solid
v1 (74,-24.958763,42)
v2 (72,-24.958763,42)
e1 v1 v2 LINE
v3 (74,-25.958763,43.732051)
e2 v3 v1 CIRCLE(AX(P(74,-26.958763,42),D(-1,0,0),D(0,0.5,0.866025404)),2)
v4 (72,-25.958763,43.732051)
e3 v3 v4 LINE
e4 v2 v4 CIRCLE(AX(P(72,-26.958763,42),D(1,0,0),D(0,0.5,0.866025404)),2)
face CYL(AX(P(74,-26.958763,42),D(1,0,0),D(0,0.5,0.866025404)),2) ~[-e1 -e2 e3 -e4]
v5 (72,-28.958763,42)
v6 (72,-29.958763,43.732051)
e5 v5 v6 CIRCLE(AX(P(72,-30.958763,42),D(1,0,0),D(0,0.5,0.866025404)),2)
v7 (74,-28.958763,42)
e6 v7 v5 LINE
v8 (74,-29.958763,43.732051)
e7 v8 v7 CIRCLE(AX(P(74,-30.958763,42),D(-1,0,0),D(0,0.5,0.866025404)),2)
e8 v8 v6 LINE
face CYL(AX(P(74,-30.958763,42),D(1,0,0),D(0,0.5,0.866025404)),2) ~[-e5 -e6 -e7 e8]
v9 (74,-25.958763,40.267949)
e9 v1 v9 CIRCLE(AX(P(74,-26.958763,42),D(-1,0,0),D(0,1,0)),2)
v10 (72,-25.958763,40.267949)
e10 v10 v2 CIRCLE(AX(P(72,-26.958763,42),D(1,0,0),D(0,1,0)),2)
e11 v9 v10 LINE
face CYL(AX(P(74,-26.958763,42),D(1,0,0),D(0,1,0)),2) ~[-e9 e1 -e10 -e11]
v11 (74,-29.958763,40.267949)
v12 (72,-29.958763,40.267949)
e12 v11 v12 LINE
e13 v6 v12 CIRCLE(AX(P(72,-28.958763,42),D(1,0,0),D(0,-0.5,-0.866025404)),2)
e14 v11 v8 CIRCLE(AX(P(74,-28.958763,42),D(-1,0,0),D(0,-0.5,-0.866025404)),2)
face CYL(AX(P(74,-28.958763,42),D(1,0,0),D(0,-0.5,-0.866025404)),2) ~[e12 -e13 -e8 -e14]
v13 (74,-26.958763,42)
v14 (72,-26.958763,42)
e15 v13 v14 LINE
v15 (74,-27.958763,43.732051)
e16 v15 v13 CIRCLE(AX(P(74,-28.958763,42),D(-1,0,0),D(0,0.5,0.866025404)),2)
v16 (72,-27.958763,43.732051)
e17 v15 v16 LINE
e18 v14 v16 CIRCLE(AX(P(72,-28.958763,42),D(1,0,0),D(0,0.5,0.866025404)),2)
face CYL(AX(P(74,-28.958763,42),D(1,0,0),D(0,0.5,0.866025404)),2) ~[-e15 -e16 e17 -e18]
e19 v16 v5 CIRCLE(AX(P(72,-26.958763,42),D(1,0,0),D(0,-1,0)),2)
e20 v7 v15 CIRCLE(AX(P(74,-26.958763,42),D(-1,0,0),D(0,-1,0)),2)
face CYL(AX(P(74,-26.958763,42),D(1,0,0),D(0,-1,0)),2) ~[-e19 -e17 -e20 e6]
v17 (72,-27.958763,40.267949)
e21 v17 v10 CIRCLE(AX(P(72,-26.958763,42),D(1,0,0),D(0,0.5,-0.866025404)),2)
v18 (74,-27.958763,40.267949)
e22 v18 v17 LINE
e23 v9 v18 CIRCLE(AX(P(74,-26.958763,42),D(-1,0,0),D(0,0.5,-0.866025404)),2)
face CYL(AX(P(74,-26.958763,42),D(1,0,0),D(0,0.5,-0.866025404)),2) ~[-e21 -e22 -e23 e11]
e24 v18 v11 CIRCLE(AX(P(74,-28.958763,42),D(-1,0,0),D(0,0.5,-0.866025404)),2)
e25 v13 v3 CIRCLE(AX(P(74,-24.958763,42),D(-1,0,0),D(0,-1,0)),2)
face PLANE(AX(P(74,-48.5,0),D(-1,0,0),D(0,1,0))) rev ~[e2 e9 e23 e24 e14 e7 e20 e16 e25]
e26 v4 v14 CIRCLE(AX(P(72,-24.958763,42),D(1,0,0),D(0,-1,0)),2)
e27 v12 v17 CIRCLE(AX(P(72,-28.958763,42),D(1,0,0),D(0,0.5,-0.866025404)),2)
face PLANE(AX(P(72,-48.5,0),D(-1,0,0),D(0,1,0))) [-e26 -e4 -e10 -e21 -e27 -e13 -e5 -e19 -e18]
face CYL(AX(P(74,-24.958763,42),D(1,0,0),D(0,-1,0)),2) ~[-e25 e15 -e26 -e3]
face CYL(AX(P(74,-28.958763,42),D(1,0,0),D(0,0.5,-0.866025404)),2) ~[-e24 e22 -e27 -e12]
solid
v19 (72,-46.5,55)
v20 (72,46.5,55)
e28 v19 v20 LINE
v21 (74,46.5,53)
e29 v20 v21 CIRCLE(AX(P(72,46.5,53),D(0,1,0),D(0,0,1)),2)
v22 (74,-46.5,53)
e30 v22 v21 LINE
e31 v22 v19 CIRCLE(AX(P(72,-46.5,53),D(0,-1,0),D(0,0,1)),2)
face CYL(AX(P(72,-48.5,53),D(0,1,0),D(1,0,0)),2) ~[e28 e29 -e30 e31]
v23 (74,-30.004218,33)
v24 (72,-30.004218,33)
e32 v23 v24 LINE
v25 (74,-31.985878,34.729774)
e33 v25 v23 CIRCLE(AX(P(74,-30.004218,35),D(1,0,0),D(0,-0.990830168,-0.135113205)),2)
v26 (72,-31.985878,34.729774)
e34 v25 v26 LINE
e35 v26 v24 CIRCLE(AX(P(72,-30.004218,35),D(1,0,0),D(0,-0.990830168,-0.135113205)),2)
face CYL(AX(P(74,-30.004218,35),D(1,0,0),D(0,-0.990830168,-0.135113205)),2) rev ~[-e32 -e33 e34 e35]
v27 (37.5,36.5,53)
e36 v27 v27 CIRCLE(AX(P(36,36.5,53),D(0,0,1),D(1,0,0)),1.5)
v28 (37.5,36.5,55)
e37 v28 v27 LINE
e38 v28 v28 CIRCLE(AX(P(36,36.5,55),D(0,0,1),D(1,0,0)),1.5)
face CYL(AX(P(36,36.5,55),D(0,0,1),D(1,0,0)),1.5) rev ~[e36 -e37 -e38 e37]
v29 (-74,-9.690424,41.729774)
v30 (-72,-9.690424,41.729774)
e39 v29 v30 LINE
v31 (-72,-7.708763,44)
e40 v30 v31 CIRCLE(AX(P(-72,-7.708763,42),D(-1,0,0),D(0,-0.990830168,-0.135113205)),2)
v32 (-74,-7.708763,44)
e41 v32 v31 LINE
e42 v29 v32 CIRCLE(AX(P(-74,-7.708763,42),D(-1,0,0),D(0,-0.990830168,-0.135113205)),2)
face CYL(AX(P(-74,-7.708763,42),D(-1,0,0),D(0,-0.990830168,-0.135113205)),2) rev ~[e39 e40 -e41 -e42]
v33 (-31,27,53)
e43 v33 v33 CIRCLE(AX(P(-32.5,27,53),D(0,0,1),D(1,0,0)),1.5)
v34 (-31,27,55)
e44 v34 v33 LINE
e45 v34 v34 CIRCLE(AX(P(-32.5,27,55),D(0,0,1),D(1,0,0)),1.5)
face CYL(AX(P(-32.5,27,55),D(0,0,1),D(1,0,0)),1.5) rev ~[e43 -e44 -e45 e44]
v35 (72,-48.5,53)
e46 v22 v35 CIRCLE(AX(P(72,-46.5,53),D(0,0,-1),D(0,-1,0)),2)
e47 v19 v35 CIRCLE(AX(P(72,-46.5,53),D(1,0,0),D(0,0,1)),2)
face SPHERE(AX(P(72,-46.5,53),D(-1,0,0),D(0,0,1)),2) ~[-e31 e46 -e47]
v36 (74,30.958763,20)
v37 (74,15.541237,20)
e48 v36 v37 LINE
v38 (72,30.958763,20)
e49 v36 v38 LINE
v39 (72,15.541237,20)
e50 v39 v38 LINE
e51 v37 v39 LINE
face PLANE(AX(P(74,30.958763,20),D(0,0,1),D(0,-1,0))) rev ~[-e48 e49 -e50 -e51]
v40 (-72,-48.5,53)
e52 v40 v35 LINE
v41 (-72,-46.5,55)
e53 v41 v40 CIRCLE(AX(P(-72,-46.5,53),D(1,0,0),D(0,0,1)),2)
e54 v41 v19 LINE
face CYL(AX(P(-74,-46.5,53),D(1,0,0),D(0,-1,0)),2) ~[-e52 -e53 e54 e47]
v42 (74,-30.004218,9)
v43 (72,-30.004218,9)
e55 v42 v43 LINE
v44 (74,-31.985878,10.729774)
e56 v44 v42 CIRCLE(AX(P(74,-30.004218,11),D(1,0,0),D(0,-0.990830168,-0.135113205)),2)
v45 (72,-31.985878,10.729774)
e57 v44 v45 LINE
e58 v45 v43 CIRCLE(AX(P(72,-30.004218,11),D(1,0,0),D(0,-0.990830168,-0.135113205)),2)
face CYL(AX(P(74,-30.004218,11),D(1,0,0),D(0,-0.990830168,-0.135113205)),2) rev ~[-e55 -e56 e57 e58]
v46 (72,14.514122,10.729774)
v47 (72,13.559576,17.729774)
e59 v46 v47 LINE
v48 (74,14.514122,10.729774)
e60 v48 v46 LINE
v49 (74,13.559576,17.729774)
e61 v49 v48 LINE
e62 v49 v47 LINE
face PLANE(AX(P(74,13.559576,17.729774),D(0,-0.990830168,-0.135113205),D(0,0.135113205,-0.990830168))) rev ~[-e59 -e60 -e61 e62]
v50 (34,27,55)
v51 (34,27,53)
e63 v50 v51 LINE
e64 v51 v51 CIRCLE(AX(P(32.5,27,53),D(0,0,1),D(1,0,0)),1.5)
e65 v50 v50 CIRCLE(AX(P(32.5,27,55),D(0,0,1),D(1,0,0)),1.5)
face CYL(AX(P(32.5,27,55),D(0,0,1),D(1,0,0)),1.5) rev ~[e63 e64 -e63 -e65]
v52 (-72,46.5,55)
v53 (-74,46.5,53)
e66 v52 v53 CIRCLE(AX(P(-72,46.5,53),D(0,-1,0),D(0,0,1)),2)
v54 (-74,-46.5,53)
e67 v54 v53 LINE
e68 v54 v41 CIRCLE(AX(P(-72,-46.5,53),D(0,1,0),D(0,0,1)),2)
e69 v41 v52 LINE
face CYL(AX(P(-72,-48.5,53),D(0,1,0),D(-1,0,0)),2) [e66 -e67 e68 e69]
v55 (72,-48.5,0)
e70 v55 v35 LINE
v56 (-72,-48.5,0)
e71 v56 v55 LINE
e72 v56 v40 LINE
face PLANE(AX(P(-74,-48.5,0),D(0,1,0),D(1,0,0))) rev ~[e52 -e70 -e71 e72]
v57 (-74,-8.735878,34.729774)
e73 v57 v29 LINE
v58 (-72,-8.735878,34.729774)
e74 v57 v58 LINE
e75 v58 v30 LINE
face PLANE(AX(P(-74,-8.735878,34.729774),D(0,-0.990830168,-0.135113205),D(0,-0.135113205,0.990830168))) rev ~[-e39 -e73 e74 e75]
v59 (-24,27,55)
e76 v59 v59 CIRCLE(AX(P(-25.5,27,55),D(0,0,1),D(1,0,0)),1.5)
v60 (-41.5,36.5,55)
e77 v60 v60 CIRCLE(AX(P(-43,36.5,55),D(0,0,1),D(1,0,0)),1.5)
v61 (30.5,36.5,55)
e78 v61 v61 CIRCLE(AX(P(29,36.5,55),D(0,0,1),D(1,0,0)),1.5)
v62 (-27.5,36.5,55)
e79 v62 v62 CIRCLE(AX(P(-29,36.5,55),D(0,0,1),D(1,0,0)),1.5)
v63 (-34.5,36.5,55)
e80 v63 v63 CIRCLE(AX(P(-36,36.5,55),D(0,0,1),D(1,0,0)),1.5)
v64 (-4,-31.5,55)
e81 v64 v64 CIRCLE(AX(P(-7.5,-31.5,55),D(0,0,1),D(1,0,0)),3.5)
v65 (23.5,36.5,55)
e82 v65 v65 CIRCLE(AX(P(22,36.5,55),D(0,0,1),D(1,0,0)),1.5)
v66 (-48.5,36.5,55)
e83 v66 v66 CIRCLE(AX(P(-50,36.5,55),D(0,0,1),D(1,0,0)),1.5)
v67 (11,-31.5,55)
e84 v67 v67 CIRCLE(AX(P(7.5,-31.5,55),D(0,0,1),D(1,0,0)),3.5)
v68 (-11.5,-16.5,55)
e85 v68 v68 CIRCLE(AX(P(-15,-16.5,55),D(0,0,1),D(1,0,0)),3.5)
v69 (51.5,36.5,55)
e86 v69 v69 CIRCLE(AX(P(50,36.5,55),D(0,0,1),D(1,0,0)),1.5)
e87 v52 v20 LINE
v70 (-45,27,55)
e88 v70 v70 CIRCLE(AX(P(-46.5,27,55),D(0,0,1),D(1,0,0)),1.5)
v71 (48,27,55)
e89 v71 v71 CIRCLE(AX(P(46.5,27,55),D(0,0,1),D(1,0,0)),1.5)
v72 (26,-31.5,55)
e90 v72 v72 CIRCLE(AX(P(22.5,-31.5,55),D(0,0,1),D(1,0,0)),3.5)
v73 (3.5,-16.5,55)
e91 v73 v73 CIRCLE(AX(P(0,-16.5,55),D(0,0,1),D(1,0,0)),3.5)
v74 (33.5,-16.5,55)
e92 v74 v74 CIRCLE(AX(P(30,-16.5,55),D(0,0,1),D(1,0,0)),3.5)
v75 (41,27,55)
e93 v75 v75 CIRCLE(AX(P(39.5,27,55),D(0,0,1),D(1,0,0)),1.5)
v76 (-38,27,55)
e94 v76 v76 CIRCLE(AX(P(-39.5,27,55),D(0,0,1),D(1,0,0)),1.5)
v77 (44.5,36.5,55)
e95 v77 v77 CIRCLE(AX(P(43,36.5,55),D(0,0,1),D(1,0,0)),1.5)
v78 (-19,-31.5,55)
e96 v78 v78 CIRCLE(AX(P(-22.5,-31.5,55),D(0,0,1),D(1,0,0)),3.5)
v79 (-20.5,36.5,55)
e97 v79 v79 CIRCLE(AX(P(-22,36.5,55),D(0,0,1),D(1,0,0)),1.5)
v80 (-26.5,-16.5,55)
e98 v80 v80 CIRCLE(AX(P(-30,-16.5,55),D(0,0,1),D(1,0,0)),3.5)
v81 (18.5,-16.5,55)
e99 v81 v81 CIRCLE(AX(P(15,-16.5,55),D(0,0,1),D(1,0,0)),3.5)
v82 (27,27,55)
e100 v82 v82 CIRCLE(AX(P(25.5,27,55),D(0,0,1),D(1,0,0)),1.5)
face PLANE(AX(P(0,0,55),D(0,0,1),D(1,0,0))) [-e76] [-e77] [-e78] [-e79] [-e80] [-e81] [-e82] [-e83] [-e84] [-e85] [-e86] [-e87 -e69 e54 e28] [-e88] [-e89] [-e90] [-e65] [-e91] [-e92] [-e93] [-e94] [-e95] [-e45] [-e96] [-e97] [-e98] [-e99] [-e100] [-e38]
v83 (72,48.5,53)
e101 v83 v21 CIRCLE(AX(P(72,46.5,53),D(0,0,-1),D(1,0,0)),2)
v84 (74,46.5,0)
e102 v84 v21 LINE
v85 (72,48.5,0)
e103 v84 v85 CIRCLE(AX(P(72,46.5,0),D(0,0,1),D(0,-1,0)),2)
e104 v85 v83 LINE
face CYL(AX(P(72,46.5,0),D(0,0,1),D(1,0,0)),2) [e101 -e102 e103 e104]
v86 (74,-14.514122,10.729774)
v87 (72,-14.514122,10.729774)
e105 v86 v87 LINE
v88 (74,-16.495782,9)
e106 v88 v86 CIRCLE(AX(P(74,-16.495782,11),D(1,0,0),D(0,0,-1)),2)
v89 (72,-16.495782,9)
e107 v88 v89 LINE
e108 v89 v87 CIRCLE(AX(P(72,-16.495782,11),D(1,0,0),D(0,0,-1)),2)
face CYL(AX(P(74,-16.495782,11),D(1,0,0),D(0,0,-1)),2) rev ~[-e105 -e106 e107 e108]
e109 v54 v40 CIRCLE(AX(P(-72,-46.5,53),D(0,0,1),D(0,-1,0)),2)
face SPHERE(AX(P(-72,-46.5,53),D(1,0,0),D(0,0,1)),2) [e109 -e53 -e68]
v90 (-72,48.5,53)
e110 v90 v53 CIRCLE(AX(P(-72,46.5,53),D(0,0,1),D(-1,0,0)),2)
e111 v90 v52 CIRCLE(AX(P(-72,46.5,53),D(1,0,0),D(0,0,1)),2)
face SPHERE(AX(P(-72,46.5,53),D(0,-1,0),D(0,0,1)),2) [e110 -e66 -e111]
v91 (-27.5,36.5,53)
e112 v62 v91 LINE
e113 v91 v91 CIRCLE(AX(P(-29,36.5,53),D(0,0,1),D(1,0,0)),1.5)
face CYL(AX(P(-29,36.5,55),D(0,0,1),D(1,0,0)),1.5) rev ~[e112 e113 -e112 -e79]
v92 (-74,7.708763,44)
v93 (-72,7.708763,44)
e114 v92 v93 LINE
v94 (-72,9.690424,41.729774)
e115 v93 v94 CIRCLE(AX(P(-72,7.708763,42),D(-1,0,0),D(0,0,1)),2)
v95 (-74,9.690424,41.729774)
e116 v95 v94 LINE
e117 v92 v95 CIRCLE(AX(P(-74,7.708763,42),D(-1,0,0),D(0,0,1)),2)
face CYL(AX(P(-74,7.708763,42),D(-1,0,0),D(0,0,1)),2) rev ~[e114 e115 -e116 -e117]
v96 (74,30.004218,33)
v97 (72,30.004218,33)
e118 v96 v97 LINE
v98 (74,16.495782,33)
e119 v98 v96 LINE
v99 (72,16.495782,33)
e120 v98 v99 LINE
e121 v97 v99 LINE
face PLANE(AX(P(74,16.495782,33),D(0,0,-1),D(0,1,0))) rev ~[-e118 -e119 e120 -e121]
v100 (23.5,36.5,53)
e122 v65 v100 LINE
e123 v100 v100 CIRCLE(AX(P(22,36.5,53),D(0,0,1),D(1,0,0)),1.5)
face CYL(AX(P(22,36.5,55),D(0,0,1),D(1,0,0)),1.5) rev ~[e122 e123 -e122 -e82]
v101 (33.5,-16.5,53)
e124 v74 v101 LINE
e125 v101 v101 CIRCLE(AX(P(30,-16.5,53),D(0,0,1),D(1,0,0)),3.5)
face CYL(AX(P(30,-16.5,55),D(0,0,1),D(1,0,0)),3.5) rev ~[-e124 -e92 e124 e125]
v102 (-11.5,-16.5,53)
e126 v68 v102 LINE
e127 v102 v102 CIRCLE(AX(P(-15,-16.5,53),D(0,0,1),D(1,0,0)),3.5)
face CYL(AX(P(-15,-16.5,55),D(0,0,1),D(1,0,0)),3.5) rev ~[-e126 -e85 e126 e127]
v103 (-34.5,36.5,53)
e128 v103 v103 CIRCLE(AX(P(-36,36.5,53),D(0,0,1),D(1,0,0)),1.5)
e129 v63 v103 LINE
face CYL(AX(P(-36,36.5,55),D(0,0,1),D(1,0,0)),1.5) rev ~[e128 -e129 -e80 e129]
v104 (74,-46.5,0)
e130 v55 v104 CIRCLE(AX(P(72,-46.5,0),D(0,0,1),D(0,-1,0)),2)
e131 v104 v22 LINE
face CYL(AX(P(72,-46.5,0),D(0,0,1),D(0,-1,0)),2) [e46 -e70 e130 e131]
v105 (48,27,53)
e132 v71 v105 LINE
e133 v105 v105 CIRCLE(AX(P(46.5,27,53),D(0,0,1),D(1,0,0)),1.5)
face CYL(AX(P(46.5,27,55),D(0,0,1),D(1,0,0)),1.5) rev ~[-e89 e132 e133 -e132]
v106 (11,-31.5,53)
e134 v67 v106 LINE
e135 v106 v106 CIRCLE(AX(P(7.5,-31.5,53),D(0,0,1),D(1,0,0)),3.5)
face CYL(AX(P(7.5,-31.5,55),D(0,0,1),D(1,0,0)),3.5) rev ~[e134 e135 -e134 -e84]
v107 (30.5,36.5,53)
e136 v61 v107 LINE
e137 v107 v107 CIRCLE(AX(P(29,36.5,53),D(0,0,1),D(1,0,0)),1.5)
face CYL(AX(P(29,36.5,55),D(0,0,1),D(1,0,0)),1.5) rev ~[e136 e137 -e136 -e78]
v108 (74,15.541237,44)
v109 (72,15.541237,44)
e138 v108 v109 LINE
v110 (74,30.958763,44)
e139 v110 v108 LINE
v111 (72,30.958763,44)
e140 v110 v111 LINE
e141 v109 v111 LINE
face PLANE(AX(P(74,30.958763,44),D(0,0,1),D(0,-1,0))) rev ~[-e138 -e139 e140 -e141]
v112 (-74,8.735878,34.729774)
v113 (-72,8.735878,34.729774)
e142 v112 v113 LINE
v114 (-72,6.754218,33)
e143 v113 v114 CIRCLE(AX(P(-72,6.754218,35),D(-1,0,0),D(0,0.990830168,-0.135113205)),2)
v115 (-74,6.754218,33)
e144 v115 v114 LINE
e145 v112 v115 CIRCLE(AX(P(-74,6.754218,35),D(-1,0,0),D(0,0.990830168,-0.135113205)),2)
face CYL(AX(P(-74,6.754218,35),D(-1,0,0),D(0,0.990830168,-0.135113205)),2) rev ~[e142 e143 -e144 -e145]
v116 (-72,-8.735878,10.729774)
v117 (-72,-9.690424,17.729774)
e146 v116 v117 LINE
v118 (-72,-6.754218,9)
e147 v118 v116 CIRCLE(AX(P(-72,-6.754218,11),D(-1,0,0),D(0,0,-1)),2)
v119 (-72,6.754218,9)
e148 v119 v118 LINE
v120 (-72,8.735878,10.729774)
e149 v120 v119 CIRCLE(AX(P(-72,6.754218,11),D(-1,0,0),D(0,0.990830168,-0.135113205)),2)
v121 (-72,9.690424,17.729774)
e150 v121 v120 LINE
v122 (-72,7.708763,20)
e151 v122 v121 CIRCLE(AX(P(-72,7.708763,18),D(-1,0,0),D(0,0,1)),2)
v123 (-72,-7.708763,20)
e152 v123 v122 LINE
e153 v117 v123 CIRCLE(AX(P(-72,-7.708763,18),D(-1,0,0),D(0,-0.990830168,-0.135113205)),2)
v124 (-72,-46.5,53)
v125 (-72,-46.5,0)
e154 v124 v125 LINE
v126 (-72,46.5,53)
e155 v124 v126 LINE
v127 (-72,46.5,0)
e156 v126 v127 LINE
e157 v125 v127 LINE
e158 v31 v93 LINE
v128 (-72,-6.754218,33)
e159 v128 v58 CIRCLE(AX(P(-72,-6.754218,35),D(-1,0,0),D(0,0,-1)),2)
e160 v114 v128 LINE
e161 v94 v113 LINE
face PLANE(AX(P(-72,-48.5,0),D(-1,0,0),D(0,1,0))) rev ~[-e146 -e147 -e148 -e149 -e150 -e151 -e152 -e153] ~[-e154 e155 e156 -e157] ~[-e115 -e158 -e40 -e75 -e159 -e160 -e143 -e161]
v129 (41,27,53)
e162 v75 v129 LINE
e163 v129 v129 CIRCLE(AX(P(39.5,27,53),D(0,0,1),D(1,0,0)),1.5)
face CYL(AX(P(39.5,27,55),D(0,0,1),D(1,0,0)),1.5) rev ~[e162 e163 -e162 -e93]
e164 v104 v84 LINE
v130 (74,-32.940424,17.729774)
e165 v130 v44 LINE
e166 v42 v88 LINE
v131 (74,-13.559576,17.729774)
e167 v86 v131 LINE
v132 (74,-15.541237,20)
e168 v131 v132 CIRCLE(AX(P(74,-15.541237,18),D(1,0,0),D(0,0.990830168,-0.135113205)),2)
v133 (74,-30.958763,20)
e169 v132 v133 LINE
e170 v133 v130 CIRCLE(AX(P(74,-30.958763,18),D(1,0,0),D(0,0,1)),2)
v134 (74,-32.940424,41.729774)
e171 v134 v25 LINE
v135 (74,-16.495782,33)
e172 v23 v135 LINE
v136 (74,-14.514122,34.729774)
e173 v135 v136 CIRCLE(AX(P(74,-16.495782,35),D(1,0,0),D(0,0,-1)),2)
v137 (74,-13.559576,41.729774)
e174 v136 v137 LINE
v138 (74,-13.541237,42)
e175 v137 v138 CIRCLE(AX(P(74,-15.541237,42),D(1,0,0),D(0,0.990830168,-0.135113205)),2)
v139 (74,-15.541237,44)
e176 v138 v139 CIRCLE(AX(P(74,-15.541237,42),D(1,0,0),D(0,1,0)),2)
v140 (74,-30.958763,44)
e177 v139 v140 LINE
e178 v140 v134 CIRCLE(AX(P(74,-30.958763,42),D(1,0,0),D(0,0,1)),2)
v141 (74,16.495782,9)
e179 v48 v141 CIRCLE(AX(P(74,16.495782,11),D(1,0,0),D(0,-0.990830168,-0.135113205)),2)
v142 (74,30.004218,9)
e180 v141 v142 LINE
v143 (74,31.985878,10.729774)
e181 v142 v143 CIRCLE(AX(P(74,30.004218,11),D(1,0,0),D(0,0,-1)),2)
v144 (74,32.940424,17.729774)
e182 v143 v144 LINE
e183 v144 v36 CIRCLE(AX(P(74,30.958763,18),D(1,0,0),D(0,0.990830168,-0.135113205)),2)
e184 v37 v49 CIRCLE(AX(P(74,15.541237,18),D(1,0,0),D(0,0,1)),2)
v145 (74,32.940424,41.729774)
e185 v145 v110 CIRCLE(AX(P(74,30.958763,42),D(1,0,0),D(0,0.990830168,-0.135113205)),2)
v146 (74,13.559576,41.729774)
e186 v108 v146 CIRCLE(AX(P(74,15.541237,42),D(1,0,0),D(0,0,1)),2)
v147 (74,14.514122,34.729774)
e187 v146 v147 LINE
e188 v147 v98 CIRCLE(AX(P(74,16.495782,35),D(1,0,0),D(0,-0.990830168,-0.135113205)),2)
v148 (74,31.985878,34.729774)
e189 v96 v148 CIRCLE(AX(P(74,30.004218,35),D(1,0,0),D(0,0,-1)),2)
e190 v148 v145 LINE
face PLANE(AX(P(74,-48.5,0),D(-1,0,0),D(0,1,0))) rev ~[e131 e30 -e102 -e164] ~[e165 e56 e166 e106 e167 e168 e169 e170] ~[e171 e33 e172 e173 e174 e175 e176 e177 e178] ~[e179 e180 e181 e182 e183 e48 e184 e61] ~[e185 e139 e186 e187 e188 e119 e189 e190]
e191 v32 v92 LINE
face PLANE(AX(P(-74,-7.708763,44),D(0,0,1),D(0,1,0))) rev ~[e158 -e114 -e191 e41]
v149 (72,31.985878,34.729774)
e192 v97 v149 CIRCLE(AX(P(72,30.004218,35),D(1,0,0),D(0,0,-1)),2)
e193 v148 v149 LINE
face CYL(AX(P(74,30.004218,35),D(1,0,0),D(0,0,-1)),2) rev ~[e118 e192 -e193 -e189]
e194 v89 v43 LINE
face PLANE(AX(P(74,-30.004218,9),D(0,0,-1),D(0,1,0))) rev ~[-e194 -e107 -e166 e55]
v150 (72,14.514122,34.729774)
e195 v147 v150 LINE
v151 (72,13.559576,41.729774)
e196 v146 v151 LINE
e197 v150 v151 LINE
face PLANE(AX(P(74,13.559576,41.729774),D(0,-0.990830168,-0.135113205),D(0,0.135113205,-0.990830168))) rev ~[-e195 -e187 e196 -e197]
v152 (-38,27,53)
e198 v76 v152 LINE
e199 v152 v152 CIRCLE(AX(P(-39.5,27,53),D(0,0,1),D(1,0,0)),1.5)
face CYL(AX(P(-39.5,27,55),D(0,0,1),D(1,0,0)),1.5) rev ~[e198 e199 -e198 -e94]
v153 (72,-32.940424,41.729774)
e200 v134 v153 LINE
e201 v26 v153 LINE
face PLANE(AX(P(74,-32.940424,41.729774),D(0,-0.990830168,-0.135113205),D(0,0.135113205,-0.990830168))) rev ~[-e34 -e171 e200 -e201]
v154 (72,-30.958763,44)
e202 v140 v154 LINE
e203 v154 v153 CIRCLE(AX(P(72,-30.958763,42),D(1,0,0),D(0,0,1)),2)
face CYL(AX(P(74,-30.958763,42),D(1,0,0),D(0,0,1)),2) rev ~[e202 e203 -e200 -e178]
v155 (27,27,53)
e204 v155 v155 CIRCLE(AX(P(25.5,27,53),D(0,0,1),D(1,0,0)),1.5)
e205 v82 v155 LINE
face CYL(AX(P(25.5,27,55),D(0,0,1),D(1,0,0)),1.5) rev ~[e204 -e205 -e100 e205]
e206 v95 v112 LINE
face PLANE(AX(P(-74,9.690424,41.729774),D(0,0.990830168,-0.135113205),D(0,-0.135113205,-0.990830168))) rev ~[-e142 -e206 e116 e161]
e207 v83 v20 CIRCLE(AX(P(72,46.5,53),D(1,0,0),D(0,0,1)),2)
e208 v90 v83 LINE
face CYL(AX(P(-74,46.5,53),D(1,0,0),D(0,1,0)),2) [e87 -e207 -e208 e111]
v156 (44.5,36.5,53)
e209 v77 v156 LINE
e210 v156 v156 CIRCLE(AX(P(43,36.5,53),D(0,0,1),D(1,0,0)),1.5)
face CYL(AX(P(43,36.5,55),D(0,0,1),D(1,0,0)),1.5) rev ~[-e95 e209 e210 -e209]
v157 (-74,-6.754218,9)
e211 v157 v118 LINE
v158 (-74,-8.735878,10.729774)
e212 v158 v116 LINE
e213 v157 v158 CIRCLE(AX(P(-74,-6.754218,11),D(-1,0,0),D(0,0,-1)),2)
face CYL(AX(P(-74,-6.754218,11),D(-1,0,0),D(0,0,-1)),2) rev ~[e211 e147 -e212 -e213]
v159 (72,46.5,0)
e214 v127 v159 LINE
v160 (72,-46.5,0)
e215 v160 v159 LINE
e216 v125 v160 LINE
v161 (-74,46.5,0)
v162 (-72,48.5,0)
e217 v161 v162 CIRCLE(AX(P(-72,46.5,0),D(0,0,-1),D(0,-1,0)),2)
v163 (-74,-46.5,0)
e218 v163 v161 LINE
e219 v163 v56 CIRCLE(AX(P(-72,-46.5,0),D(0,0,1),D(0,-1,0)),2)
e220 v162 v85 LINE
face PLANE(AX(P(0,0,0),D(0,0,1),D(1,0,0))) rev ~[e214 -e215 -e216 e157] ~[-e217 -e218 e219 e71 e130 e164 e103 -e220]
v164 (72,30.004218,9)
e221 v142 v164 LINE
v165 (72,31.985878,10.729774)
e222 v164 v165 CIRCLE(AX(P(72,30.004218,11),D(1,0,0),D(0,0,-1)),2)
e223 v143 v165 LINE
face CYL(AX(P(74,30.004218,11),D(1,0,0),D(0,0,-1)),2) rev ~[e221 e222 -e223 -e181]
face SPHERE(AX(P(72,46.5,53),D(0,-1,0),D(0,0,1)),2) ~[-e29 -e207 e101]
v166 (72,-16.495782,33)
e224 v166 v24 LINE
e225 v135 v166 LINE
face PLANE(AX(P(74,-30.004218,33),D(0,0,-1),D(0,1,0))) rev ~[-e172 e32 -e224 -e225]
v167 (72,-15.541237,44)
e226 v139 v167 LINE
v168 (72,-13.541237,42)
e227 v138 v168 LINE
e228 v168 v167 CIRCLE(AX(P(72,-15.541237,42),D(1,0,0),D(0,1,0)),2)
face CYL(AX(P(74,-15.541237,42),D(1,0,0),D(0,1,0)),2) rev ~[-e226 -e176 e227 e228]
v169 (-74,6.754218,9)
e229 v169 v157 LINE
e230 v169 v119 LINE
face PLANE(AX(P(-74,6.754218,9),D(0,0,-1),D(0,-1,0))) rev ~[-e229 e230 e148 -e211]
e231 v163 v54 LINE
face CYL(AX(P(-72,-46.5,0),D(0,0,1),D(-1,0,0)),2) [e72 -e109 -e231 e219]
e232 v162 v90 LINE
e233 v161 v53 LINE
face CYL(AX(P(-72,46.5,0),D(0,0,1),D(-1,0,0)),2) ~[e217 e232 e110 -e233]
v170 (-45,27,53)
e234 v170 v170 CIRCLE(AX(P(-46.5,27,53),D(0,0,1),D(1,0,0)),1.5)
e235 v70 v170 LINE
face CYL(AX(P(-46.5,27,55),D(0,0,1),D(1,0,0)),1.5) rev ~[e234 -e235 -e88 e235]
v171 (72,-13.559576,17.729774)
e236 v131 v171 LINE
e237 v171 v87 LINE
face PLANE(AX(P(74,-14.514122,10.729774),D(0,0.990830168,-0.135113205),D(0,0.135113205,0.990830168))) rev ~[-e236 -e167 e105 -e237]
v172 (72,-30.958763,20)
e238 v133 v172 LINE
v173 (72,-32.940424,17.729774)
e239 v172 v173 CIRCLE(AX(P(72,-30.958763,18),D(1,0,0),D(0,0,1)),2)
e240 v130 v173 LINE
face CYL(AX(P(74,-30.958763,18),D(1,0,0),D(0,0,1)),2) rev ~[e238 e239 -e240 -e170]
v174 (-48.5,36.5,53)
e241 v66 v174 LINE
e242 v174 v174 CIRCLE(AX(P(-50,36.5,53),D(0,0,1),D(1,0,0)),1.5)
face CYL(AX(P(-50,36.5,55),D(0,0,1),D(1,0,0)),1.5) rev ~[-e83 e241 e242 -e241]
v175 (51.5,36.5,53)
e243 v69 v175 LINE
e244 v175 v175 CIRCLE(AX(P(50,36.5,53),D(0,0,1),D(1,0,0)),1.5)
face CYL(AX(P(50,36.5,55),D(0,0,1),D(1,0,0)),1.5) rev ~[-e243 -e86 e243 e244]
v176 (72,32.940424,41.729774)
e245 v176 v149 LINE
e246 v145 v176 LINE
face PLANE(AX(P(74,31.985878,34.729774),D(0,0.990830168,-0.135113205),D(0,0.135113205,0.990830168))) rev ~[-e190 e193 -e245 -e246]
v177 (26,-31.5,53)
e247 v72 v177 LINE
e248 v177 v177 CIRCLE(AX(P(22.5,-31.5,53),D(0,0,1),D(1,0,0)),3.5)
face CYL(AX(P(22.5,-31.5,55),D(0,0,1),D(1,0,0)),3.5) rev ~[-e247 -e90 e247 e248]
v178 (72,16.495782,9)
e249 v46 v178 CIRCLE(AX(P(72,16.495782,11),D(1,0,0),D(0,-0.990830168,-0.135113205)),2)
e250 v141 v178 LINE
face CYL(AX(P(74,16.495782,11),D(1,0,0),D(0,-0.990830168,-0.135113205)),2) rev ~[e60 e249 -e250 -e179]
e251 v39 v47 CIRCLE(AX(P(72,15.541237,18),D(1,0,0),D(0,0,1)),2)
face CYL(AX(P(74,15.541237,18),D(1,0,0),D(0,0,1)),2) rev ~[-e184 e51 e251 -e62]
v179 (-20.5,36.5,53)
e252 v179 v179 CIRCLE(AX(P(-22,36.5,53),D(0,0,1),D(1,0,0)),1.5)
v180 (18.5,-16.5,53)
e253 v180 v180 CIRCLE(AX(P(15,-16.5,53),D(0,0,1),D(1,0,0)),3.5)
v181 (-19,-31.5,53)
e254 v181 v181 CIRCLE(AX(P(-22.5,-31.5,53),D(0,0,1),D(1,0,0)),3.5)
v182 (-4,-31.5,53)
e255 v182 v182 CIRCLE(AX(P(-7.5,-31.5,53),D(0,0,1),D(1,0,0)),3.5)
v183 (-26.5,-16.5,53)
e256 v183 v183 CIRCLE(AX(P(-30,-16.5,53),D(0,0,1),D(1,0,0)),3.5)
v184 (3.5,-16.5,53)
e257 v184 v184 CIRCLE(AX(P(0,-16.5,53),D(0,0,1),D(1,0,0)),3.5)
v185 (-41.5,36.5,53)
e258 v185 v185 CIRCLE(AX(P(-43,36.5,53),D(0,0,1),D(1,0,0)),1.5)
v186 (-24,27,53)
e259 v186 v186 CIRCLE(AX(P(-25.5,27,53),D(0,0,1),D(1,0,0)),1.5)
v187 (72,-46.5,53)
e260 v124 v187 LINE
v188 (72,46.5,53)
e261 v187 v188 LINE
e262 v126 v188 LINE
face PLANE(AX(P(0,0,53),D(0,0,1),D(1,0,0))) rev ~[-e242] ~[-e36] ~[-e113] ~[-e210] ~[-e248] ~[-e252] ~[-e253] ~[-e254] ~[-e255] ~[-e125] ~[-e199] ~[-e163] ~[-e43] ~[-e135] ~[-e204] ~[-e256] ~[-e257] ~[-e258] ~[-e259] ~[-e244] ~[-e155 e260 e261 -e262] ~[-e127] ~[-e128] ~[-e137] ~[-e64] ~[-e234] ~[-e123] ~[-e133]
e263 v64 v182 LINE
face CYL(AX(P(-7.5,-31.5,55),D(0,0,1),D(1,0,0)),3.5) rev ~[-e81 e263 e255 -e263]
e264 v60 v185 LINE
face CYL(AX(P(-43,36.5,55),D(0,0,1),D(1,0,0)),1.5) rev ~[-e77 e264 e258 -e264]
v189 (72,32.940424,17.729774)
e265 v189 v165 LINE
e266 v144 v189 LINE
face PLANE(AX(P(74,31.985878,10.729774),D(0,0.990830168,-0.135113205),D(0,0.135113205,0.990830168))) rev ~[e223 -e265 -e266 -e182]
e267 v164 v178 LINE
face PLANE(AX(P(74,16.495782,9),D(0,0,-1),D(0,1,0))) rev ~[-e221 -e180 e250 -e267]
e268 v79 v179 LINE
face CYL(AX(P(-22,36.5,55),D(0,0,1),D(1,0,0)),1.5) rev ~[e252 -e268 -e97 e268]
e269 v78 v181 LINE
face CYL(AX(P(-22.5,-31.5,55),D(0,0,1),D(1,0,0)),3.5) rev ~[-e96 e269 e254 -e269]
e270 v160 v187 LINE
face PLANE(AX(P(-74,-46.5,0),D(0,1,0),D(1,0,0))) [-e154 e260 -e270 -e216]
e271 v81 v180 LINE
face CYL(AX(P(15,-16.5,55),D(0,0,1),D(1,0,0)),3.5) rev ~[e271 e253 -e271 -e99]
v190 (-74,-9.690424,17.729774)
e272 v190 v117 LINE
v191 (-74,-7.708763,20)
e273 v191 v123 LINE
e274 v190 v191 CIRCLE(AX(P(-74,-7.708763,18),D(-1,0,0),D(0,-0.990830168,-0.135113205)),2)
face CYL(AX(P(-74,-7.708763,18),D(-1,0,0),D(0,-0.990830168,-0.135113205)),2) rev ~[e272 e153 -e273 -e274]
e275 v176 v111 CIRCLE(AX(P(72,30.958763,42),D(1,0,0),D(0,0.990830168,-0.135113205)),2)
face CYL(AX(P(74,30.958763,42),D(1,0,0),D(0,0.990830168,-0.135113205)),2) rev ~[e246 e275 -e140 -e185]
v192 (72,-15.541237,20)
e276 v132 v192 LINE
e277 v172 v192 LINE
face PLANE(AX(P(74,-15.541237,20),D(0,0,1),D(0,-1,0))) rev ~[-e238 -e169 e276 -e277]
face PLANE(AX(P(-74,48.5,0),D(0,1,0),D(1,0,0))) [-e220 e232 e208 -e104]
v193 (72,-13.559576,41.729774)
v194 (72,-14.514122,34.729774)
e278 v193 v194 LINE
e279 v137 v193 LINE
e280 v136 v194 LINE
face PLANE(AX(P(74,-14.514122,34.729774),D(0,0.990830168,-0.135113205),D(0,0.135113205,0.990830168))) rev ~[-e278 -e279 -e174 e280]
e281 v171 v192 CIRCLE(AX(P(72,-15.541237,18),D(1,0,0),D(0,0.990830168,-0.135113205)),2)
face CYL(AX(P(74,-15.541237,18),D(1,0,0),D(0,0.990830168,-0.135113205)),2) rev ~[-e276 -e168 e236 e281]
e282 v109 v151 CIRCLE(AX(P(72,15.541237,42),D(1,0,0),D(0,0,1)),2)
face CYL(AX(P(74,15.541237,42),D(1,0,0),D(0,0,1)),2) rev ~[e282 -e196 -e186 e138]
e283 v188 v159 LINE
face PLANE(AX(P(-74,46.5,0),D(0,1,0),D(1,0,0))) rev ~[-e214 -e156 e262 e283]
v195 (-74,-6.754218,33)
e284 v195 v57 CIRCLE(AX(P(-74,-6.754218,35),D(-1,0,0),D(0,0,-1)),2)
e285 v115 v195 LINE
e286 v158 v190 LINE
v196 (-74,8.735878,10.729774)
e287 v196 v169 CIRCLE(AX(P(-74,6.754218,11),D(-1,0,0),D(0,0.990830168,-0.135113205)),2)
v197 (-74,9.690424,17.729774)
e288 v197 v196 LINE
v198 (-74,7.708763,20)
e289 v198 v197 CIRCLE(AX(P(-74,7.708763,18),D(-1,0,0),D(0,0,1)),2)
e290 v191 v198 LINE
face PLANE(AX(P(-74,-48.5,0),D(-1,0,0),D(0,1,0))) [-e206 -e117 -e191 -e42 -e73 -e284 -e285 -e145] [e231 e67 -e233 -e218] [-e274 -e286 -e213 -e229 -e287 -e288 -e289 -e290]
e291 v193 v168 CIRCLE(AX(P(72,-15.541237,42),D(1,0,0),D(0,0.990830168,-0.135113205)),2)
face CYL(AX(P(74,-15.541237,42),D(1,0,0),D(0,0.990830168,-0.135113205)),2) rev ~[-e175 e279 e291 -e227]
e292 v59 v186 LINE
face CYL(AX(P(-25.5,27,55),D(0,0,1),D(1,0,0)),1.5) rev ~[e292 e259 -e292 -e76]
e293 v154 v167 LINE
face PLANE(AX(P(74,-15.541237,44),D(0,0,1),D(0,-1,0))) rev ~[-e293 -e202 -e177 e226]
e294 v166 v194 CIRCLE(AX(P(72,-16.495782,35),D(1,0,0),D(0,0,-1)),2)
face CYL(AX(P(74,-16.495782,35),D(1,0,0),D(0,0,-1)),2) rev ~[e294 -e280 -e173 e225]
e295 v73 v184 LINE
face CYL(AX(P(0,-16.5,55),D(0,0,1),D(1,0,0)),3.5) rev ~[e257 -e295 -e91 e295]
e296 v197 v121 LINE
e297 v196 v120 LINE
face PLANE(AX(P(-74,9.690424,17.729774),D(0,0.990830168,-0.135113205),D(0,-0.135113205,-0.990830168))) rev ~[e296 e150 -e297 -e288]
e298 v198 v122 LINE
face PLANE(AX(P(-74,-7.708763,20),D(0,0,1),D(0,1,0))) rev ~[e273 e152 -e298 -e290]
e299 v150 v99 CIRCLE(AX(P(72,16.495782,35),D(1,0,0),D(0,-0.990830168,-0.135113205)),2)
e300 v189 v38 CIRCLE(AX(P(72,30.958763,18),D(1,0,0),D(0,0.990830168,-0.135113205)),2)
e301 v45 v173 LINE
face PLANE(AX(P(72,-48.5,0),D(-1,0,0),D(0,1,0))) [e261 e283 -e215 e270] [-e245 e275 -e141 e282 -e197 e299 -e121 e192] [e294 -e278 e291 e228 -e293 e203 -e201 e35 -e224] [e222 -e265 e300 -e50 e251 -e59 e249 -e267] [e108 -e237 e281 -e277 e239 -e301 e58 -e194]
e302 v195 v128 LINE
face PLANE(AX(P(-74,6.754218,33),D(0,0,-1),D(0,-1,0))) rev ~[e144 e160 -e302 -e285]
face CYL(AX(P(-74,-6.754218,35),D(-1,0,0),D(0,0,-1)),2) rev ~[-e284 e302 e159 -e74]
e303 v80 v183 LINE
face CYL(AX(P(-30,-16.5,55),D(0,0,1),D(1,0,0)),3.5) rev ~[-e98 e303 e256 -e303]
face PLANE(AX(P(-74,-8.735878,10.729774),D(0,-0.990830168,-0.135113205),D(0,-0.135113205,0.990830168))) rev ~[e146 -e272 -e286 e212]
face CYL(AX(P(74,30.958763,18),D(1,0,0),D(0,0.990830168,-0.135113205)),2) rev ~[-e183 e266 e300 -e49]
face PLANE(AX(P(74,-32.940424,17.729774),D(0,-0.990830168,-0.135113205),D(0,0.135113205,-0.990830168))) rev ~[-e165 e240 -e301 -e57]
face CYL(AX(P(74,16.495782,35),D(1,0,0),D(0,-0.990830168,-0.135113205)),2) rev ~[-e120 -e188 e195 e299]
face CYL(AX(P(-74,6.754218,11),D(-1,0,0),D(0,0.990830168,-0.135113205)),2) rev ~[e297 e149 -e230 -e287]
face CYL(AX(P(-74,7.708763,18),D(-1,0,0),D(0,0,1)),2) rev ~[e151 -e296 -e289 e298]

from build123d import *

# Parameters (mm, degrees)
F0_W     = 148
F0_H     = 97
F1_DEPTH = 55
F2_T     = -2
F3_R     = 2
F4_R     = 1.5
F4_R_2   = 3.5
F5_DEPTH = 3
F7_DEPTH = 3
F9_DEPTH = 3


with BuildPart() as f1:
    # F0 (on Top) → F1 (new body)
    with BuildSketch(Plane.XY):
        Rectangle(F0_W, F0_H)
    extrude(amount=F1_DEPTH)

    # F2
    f2_openings = [f1.faces().sort_by_distance(p)[0] for p in [
        (0, 0, 0),
    ]]
    offset(amount=F2_T, openings=f2_openings)

    # F3
    f3_edges = [f1.edges().sort_by_distance(p)[0] for p in [
        (0, -48.5, 55),
        (-74, 0, 55),
        (74, 0, 55),
        (0, 48.5, 55),
        (-74, -48.5, 27.5),
        (74, -48.5, 27.5),
        (74, 48.5, 27.5),
        (-74, 48.5, 27.5),
    ]]
    fillet(f3_edges, radius=F3_R)

    # F4 (on face) → F5 (cut)
    with BuildSketch(Plane.XY.offset(55)):
        with Locations((-50, 36.5)):
            Circle(F4_R)
        with Locations((-43, 36.5)):
            Circle(F4_R)
        with Locations((-36, 36.5)):
            Circle(F4_R)
        with Locations((-29, 36.5)):
            Circle(F4_R)
        with Locations((-22, 36.5)):
            Circle(F4_R)
        with Locations((-46.5, 27)):
            Circle(F4_R)
        with Locations((-39.5, 27)):
            Circle(F4_R)
        with Locations((-32.5, 27)):
            Circle(F4_R)
        with Locations((-25.5, 27)):
            Circle(F4_R)
        with Locations((50, 36.5)):
            Circle(F4_R)
        with Locations((43, 36.5)):
            Circle(F4_R)
        with Locations((36, 36.5)):
            Circle(F4_R)
        with Locations((29, 36.5)):
            Circle(F4_R)
        with Locations((22, 36.5)):
            Circle(F4_R)
        with Locations((46.5, 27)):
            Circle(F4_R)
        with Locations((39.5, 27)):
            Circle(F4_R)
        with Locations((32.5, 27)):
            Circle(F4_R)
        with Locations((25.5, 27)):
            Circle(F4_R)
        with Locations((-30, -16.5)):
            Circle(F4_R_2)
        with Locations((-15, -16.5)):
            Circle(F4_R_2)
        with Locations((0, -16.5)):
            Circle(F4_R_2)
        with Locations((15, -16.5)):
            Circle(F4_R_2)
        with Locations((30, -16.5)):
            Circle(F4_R_2)
        with Locations((-22.5, -31.5)):
            Circle(F4_R_2)
        with Locations((-7.5, -31.5)):
            Circle(F4_R_2)
        with Locations((7.5, -31.5)):
            Circle(F4_R_2)
        with Locations((22.5, -31.5)):
            Circle(F4_R_2)
    extrude(amount=-F5_DEPTH, mode=Mode.SUBTRACT)

    # F6 (on face) → F7 (cut)
    with BuildSketch(Plane(origin=(-74, 0, 0), x_dir=(0, -1, 0), z_dir=(-1, 0, 0))):
        with BuildLine():
            Line((7.7087633353, 44), (0, 44))
            Line((0, 44), (-7.7087633353, 44))
            ThreePointArc((-7.7087633353, 44), (-9.2154903874, 43.315208573), (-9.6904236714, 41.7297735905))
            Line((-9.6904236714, 41.7297735905), (-8.7358782169, 34.7297735905))
            ThreePointArc((-8.7358782169, 34.7297735905), (-8.0694264538, 33.4932729479), (-6.7542178808, 33))
            Line((-6.7542178808, 33), (0, 33))
            Line((0, 33), (6.7542178808, 33))
            ThreePointArc((6.7542178808, 33), (8.0694264538, 33.4932729479), (8.7358782169, 34.7297735905))
            Line((8.7358782169, 34.7297735905), (9.6904236714, 41.7297735905))
            ThreePointArc((9.6904236714, 41.7297735905), (9.2154903874, 43.315208573), (7.7087633353, 44))
        make_face()
        with BuildLine():
            Line((8.7358782169, 10.7297735905), (9.6904236714, 17.7297735905))
            ThreePointArc((9.6904236714, 17.7297735905), (9.2154903874, 19.315208573), (7.7087633353, 20))
            Line((7.7087633353, 20), (0, 20))
            Line((0, 20), (-7.7087633353, 20))
            ThreePointArc((-7.7087633353, 20), (-9.2154903874, 19.315208573), (-9.6904236714, 17.7297735905))
            Line((-9.6904236714, 17.7297735905), (-8.7358782169, 10.7297735905))
            ThreePointArc((-8.7358782169, 10.7297735905), (-8.0694264538, 9.4932729479), (-6.7542178808, 9))
            Line((-6.7542178808, 9), (0, 9))
            Line((0, 9), (6.7542178808, 9))
            ThreePointArc((6.7542178808, 9), (8.0694264538, 9.4932729479), (8.7358782169, 10.7297735905))
        make_face()
    extrude(amount=-F7_DEPTH, mode=Mode.SUBTRACT)

    # F8 (on face) → F9 (cut)
    with BuildSketch(Plane.YZ.offset(74)):
        with BuildLine():
            Line((-15.5412366647, 44), (-23.25, 44))
            Line((-23.25, 44), (-24.9587633353, 44))
            ThreePointArc((-24.9587633353, 44), (-23.544549773, 43.4142135624), (-22.9587633353, 42))
            ThreePointArc((-22.9587633353, 42), (-23.9587633353, 40.2679491924), (-25.9587633353, 40.2679491924))
            ThreePointArc((-25.9587633353, 40.2679491924), (-26.9587633353, 40), (-27.9587633353, 40.2679491924))
            ThreePointArc((-27.9587633353, 40.2679491924), (-28.9587633353, 40), (-29.9587633353, 40.2679491924))
            ThreePointArc((-29.9587633353, 40.2679491924), (-31.8391876061, 40.2042124003), (-32.9404236714, 41.7297735905))
            Line((-32.9404236714, 41.7297735905), (-31.9858782169, 34.7297735905))
            ThreePointArc((-31.9858782169, 34.7297735905), (-30.1396418961, 36.9954098166), (-28.0042178808, 35))
            ThreePointArc((-28.0042178808, 35), (-28.5900043184, 33.5857864376), (-30.0042178808, 33))
            Line((-30.0042178808, 33), (-23.25, 33))
            Line((-23.25, 33), (-16.4957821192, 33))
            ThreePointArc((-16.4957821192, 33), (-17.9099956816, 36.4142135624), (-14.4957821192, 35))
            ThreePointArc((-14.4957821192, 35), (-14.5003723026, 34.8645759847), (-14.5141217831, 34.7297735905))
            Line((-14.5141217831, 34.7297735905), (-13.5595763286, 41.7297735905))
            ThreePointArc((-13.5595763286, 41.7297735905), (-17.0479637167, 40.684791427), (-15.5412366647, 44))
        make_face()
        with BuildLine():
            ThreePointArc((-25.9587633353, 43.7320508076), (-25.4764014256, 43.9318516526), (-24.9587633353, 44))
            Line((-24.9587633353, 44), (-26.9587633353, 44))
            ThreePointArc((-26.9587633353, 44), (-26.4411252451, 43.9318516526), (-25.9587633353, 43.7320508076))
        make_face()
        with BuildLine():
            ThreePointArc((-22.9587633353, 42), (-23.544549773, 43.4142135624), (-24.9587633353, 44))
            ThreePointArc((-24.9587633353, 44), (-25.4764014256, 43.9318516526), (-25.9587633353, 43.7320508076))
            ThreePointArc((-25.9587633353, 43.7320508076), (-25.2267125278, 43), (-24.9587633353, 42))
            ThreePointArc((-24.9587633353, 42), (-25.2267125278, 41), (-25.9587633353, 40.2679491924))
            ThreePointArc((-25.9587633353, 40.2679491924), (-23.9587633353, 40.2679491924), (-22.9587633353, 42))
        make_face()
        with BuildLine():
            ThreePointArc((-13.5412366647, 42), (-14.1270231023, 43.4142135624), (-15.5412366647, 44))
            ThreePointArc((-15.5412366647, 44), (-17.0479637167, 40.684791427), (-13.5595763286, 41.7297735905))
            ThreePointArc((-13.5595763286, 41.7297735905), (-13.5458268481, 41.8645759847), (-13.5412366647, 42))
        make_face()
        with BuildLine():
            ThreePointArc((-27.9587633353, 43.7320508076), (-27.4764014256, 43.9318516526), (-26.9587633353, 44))
            Line((-26.9587633353, 44), (-28.9587633353, 44))
            ThreePointArc((-28.9587633353, 44), (-28.4411252451, 43.9318516526), (-27.9587633353, 43.7320508076))
        make_face()
        with BuildLine():
            ThreePointArc((-25.9587633353, 43.7320508076), (-26.4411252451, 43.9318516526), (-26.9587633353, 44))
            ThreePointArc((-26.9587633353, 44), (-27.4764014256, 43.9318516526), (-27.9587633353, 43.7320508076))
            ThreePointArc((-27.9587633353, 43.7320508076), (-27.2267125278, 43), (-26.9587633353, 42))
            ThreePointArc((-26.9587633353, 42), (-26.6908141429, 43), (-25.9587633353, 43.7320508076))
        make_face()
        with BuildLine():
            ThreePointArc((-29.9587633353, 43.7320508076), (-29.4764014256, 43.9318516526), (-28.9587633353, 44))
            Line((-28.9587633353, 44), (-30.9587633353, 44))
            ThreePointArc((-30.9587633353, 44), (-30.4411252451, 43.9318516526), (-29.9587633353, 43.7320508076))
        make_face()
        with BuildLine():
            ThreePointArc((-27.9587633353, 43.7320508076), (-28.4411252451, 43.9318516526), (-28.9587633353, 44))
            ThreePointArc((-28.9587633353, 44), (-29.4764014256, 43.9318516526), (-29.9587633353, 43.7320508076))
            ThreePointArc((-29.9587633353, 43.7320508076), (-29.2267125278, 43), (-28.9587633353, 42))
            ThreePointArc((-28.9587633353, 42), (-28.6908141429, 43), (-27.9587633353, 43.7320508076))
        make_face()
        with BuildLine():
            ThreePointArc((-16.4957821192, 33), (-15.1805735462, 33.4932729479), (-14.5141217831, 34.7297735905))
            ThreePointArc((-14.5141217831, 34.7297735905), (-14.5003723026, 34.8645759847), (-14.4957821192, 35))
            ThreePointArc((-14.4957821192, 35), (-17.9099956816, 36.4142135624), (-16.4957821192, 33))
        make_face()
        with BuildLine():
            ThreePointArc((-29.9587633353, 43.7320508076), (-30.4411252451, 43.9318516526), (-30.9587633353, 44))
            ThreePointArc((-30.9587633353, 44), (-32.4654903874, 43.315208573), (-32.9404236714, 41.7297735905))
            ThreePointArc((-32.9404236714, 41.7297735905), (-31.8391876061, 40.2042124003), (-29.9587633353, 40.2679491924))
            ThreePointArc((-29.9587633353, 40.2679491924), (-30.9587633353, 42), (-29.9587633353, 43.7320508076))
        make_face()
        with BuildLine():
            ThreePointArc((-28.0042178808, 35), (-30.1396418961, 36.9954098166), (-31.9858782169, 34.7297735905))
            ThreePointArc((-31.9858782169, 34.7297735905), (-31.3194264538, 33.4932729479), (-30.0042178808, 33))
            ThreePointArc((-30.0042178808, 33), (-28.5900043184, 33.5857864376), (-28.0042178808, 35))
        make_face()
        with BuildLine():
            ThreePointArc((-31.9858782169, 10.7297735905), (-31.3194264538, 9.4932729479), (-30.0042178808, 9))
            Line((-30.0042178808, 9), (-23.25, 9))
            Line((-23.25, 9), (-16.4957821192, 9))
            ThreePointArc((-16.4957821192, 9), (-15.1805735462, 9.4932729479), (-14.5141217831, 10.7297735905))
            Line((-14.5141217831, 10.7297735905), (-13.5595763286, 17.7297735905))
            ThreePointArc((-13.5595763286, 17.7297735905), (-14.0345096126, 19.315208573), (-15.5412366647, 20))
            Line((-15.5412366647, 20), (-23.25, 20))
            Line((-23.25, 20), (-30.9587633353, 20))
            ThreePointArc((-30.9587633353, 20), (-32.4654903874, 19.315208573), (-32.9404236714, 17.7297735905))
            Line((-32.9404236714, 17.7297735905), (-31.9858782169, 10.7297735905))
        make_face()
        with BuildLine():
            ThreePointArc((14.5141217831, 34.7297735905), (15.1805735462, 33.4932729479), (16.4957821192, 33))
            Line((16.4957821192, 33), (23.25, 33))
            Line((23.25, 33), (30.0042178808, 33))
            ThreePointArc((30.0042178808, 33), (31.3194264538, 33.4932729479), (31.9858782169, 34.7297735905))
            Line((31.9858782169, 34.7297735905), (32.9404236714, 41.7297735905))
            ThreePointArc((32.9404236714, 41.7297735905), (32.4654903874, 43.315208573), (30.9587633353, 44))
            Line((30.9587633353, 44), (23.25, 44))
            Line((23.25, 44), (15.5412366647, 44))
            ThreePointArc((15.5412366647, 44), (14.0345096126, 43.315208573), (13.5595763286, 41.7297735905))
            Line((13.5595763286, 41.7297735905), (14.5141217831, 34.7297735905))
        make_face()
        with BuildLine():
            ThreePointArc((14.5141217831, 10.7297735905), (15.1805735462, 9.4932729479), (16.4957821192, 9))
            Line((16.4957821192, 9), (23.25, 9))
            Line((23.25, 9), (30.0042178808, 9))
            ThreePointArc((30.0042178808, 9), (31.3194264538, 9.4932729479), (31.9858782169, 10.7297735905))
            Line((31.9858782169, 10.7297735905), (32.9404236714, 17.7297735905))
            ThreePointArc((32.9404236714, 17.7297735905), (32.4654903874, 19.315208573), (30.9587633353, 20))
            Line((30.9587633353, 20), (23.25, 20))
            Line((23.25, 20), (15.5412366647, 20))
            ThreePointArc((15.5412366647, 20), (14.0345096126, 19.315208573), (13.5595763286, 17.7297735905))
            Line((13.5595763286, 17.7297735905), (14.5141217831, 10.7297735905))
        make_face()
    extrude(amount=-F9_DEPTH, mode=Mode.SUBTRACT)


solid = f1.part
